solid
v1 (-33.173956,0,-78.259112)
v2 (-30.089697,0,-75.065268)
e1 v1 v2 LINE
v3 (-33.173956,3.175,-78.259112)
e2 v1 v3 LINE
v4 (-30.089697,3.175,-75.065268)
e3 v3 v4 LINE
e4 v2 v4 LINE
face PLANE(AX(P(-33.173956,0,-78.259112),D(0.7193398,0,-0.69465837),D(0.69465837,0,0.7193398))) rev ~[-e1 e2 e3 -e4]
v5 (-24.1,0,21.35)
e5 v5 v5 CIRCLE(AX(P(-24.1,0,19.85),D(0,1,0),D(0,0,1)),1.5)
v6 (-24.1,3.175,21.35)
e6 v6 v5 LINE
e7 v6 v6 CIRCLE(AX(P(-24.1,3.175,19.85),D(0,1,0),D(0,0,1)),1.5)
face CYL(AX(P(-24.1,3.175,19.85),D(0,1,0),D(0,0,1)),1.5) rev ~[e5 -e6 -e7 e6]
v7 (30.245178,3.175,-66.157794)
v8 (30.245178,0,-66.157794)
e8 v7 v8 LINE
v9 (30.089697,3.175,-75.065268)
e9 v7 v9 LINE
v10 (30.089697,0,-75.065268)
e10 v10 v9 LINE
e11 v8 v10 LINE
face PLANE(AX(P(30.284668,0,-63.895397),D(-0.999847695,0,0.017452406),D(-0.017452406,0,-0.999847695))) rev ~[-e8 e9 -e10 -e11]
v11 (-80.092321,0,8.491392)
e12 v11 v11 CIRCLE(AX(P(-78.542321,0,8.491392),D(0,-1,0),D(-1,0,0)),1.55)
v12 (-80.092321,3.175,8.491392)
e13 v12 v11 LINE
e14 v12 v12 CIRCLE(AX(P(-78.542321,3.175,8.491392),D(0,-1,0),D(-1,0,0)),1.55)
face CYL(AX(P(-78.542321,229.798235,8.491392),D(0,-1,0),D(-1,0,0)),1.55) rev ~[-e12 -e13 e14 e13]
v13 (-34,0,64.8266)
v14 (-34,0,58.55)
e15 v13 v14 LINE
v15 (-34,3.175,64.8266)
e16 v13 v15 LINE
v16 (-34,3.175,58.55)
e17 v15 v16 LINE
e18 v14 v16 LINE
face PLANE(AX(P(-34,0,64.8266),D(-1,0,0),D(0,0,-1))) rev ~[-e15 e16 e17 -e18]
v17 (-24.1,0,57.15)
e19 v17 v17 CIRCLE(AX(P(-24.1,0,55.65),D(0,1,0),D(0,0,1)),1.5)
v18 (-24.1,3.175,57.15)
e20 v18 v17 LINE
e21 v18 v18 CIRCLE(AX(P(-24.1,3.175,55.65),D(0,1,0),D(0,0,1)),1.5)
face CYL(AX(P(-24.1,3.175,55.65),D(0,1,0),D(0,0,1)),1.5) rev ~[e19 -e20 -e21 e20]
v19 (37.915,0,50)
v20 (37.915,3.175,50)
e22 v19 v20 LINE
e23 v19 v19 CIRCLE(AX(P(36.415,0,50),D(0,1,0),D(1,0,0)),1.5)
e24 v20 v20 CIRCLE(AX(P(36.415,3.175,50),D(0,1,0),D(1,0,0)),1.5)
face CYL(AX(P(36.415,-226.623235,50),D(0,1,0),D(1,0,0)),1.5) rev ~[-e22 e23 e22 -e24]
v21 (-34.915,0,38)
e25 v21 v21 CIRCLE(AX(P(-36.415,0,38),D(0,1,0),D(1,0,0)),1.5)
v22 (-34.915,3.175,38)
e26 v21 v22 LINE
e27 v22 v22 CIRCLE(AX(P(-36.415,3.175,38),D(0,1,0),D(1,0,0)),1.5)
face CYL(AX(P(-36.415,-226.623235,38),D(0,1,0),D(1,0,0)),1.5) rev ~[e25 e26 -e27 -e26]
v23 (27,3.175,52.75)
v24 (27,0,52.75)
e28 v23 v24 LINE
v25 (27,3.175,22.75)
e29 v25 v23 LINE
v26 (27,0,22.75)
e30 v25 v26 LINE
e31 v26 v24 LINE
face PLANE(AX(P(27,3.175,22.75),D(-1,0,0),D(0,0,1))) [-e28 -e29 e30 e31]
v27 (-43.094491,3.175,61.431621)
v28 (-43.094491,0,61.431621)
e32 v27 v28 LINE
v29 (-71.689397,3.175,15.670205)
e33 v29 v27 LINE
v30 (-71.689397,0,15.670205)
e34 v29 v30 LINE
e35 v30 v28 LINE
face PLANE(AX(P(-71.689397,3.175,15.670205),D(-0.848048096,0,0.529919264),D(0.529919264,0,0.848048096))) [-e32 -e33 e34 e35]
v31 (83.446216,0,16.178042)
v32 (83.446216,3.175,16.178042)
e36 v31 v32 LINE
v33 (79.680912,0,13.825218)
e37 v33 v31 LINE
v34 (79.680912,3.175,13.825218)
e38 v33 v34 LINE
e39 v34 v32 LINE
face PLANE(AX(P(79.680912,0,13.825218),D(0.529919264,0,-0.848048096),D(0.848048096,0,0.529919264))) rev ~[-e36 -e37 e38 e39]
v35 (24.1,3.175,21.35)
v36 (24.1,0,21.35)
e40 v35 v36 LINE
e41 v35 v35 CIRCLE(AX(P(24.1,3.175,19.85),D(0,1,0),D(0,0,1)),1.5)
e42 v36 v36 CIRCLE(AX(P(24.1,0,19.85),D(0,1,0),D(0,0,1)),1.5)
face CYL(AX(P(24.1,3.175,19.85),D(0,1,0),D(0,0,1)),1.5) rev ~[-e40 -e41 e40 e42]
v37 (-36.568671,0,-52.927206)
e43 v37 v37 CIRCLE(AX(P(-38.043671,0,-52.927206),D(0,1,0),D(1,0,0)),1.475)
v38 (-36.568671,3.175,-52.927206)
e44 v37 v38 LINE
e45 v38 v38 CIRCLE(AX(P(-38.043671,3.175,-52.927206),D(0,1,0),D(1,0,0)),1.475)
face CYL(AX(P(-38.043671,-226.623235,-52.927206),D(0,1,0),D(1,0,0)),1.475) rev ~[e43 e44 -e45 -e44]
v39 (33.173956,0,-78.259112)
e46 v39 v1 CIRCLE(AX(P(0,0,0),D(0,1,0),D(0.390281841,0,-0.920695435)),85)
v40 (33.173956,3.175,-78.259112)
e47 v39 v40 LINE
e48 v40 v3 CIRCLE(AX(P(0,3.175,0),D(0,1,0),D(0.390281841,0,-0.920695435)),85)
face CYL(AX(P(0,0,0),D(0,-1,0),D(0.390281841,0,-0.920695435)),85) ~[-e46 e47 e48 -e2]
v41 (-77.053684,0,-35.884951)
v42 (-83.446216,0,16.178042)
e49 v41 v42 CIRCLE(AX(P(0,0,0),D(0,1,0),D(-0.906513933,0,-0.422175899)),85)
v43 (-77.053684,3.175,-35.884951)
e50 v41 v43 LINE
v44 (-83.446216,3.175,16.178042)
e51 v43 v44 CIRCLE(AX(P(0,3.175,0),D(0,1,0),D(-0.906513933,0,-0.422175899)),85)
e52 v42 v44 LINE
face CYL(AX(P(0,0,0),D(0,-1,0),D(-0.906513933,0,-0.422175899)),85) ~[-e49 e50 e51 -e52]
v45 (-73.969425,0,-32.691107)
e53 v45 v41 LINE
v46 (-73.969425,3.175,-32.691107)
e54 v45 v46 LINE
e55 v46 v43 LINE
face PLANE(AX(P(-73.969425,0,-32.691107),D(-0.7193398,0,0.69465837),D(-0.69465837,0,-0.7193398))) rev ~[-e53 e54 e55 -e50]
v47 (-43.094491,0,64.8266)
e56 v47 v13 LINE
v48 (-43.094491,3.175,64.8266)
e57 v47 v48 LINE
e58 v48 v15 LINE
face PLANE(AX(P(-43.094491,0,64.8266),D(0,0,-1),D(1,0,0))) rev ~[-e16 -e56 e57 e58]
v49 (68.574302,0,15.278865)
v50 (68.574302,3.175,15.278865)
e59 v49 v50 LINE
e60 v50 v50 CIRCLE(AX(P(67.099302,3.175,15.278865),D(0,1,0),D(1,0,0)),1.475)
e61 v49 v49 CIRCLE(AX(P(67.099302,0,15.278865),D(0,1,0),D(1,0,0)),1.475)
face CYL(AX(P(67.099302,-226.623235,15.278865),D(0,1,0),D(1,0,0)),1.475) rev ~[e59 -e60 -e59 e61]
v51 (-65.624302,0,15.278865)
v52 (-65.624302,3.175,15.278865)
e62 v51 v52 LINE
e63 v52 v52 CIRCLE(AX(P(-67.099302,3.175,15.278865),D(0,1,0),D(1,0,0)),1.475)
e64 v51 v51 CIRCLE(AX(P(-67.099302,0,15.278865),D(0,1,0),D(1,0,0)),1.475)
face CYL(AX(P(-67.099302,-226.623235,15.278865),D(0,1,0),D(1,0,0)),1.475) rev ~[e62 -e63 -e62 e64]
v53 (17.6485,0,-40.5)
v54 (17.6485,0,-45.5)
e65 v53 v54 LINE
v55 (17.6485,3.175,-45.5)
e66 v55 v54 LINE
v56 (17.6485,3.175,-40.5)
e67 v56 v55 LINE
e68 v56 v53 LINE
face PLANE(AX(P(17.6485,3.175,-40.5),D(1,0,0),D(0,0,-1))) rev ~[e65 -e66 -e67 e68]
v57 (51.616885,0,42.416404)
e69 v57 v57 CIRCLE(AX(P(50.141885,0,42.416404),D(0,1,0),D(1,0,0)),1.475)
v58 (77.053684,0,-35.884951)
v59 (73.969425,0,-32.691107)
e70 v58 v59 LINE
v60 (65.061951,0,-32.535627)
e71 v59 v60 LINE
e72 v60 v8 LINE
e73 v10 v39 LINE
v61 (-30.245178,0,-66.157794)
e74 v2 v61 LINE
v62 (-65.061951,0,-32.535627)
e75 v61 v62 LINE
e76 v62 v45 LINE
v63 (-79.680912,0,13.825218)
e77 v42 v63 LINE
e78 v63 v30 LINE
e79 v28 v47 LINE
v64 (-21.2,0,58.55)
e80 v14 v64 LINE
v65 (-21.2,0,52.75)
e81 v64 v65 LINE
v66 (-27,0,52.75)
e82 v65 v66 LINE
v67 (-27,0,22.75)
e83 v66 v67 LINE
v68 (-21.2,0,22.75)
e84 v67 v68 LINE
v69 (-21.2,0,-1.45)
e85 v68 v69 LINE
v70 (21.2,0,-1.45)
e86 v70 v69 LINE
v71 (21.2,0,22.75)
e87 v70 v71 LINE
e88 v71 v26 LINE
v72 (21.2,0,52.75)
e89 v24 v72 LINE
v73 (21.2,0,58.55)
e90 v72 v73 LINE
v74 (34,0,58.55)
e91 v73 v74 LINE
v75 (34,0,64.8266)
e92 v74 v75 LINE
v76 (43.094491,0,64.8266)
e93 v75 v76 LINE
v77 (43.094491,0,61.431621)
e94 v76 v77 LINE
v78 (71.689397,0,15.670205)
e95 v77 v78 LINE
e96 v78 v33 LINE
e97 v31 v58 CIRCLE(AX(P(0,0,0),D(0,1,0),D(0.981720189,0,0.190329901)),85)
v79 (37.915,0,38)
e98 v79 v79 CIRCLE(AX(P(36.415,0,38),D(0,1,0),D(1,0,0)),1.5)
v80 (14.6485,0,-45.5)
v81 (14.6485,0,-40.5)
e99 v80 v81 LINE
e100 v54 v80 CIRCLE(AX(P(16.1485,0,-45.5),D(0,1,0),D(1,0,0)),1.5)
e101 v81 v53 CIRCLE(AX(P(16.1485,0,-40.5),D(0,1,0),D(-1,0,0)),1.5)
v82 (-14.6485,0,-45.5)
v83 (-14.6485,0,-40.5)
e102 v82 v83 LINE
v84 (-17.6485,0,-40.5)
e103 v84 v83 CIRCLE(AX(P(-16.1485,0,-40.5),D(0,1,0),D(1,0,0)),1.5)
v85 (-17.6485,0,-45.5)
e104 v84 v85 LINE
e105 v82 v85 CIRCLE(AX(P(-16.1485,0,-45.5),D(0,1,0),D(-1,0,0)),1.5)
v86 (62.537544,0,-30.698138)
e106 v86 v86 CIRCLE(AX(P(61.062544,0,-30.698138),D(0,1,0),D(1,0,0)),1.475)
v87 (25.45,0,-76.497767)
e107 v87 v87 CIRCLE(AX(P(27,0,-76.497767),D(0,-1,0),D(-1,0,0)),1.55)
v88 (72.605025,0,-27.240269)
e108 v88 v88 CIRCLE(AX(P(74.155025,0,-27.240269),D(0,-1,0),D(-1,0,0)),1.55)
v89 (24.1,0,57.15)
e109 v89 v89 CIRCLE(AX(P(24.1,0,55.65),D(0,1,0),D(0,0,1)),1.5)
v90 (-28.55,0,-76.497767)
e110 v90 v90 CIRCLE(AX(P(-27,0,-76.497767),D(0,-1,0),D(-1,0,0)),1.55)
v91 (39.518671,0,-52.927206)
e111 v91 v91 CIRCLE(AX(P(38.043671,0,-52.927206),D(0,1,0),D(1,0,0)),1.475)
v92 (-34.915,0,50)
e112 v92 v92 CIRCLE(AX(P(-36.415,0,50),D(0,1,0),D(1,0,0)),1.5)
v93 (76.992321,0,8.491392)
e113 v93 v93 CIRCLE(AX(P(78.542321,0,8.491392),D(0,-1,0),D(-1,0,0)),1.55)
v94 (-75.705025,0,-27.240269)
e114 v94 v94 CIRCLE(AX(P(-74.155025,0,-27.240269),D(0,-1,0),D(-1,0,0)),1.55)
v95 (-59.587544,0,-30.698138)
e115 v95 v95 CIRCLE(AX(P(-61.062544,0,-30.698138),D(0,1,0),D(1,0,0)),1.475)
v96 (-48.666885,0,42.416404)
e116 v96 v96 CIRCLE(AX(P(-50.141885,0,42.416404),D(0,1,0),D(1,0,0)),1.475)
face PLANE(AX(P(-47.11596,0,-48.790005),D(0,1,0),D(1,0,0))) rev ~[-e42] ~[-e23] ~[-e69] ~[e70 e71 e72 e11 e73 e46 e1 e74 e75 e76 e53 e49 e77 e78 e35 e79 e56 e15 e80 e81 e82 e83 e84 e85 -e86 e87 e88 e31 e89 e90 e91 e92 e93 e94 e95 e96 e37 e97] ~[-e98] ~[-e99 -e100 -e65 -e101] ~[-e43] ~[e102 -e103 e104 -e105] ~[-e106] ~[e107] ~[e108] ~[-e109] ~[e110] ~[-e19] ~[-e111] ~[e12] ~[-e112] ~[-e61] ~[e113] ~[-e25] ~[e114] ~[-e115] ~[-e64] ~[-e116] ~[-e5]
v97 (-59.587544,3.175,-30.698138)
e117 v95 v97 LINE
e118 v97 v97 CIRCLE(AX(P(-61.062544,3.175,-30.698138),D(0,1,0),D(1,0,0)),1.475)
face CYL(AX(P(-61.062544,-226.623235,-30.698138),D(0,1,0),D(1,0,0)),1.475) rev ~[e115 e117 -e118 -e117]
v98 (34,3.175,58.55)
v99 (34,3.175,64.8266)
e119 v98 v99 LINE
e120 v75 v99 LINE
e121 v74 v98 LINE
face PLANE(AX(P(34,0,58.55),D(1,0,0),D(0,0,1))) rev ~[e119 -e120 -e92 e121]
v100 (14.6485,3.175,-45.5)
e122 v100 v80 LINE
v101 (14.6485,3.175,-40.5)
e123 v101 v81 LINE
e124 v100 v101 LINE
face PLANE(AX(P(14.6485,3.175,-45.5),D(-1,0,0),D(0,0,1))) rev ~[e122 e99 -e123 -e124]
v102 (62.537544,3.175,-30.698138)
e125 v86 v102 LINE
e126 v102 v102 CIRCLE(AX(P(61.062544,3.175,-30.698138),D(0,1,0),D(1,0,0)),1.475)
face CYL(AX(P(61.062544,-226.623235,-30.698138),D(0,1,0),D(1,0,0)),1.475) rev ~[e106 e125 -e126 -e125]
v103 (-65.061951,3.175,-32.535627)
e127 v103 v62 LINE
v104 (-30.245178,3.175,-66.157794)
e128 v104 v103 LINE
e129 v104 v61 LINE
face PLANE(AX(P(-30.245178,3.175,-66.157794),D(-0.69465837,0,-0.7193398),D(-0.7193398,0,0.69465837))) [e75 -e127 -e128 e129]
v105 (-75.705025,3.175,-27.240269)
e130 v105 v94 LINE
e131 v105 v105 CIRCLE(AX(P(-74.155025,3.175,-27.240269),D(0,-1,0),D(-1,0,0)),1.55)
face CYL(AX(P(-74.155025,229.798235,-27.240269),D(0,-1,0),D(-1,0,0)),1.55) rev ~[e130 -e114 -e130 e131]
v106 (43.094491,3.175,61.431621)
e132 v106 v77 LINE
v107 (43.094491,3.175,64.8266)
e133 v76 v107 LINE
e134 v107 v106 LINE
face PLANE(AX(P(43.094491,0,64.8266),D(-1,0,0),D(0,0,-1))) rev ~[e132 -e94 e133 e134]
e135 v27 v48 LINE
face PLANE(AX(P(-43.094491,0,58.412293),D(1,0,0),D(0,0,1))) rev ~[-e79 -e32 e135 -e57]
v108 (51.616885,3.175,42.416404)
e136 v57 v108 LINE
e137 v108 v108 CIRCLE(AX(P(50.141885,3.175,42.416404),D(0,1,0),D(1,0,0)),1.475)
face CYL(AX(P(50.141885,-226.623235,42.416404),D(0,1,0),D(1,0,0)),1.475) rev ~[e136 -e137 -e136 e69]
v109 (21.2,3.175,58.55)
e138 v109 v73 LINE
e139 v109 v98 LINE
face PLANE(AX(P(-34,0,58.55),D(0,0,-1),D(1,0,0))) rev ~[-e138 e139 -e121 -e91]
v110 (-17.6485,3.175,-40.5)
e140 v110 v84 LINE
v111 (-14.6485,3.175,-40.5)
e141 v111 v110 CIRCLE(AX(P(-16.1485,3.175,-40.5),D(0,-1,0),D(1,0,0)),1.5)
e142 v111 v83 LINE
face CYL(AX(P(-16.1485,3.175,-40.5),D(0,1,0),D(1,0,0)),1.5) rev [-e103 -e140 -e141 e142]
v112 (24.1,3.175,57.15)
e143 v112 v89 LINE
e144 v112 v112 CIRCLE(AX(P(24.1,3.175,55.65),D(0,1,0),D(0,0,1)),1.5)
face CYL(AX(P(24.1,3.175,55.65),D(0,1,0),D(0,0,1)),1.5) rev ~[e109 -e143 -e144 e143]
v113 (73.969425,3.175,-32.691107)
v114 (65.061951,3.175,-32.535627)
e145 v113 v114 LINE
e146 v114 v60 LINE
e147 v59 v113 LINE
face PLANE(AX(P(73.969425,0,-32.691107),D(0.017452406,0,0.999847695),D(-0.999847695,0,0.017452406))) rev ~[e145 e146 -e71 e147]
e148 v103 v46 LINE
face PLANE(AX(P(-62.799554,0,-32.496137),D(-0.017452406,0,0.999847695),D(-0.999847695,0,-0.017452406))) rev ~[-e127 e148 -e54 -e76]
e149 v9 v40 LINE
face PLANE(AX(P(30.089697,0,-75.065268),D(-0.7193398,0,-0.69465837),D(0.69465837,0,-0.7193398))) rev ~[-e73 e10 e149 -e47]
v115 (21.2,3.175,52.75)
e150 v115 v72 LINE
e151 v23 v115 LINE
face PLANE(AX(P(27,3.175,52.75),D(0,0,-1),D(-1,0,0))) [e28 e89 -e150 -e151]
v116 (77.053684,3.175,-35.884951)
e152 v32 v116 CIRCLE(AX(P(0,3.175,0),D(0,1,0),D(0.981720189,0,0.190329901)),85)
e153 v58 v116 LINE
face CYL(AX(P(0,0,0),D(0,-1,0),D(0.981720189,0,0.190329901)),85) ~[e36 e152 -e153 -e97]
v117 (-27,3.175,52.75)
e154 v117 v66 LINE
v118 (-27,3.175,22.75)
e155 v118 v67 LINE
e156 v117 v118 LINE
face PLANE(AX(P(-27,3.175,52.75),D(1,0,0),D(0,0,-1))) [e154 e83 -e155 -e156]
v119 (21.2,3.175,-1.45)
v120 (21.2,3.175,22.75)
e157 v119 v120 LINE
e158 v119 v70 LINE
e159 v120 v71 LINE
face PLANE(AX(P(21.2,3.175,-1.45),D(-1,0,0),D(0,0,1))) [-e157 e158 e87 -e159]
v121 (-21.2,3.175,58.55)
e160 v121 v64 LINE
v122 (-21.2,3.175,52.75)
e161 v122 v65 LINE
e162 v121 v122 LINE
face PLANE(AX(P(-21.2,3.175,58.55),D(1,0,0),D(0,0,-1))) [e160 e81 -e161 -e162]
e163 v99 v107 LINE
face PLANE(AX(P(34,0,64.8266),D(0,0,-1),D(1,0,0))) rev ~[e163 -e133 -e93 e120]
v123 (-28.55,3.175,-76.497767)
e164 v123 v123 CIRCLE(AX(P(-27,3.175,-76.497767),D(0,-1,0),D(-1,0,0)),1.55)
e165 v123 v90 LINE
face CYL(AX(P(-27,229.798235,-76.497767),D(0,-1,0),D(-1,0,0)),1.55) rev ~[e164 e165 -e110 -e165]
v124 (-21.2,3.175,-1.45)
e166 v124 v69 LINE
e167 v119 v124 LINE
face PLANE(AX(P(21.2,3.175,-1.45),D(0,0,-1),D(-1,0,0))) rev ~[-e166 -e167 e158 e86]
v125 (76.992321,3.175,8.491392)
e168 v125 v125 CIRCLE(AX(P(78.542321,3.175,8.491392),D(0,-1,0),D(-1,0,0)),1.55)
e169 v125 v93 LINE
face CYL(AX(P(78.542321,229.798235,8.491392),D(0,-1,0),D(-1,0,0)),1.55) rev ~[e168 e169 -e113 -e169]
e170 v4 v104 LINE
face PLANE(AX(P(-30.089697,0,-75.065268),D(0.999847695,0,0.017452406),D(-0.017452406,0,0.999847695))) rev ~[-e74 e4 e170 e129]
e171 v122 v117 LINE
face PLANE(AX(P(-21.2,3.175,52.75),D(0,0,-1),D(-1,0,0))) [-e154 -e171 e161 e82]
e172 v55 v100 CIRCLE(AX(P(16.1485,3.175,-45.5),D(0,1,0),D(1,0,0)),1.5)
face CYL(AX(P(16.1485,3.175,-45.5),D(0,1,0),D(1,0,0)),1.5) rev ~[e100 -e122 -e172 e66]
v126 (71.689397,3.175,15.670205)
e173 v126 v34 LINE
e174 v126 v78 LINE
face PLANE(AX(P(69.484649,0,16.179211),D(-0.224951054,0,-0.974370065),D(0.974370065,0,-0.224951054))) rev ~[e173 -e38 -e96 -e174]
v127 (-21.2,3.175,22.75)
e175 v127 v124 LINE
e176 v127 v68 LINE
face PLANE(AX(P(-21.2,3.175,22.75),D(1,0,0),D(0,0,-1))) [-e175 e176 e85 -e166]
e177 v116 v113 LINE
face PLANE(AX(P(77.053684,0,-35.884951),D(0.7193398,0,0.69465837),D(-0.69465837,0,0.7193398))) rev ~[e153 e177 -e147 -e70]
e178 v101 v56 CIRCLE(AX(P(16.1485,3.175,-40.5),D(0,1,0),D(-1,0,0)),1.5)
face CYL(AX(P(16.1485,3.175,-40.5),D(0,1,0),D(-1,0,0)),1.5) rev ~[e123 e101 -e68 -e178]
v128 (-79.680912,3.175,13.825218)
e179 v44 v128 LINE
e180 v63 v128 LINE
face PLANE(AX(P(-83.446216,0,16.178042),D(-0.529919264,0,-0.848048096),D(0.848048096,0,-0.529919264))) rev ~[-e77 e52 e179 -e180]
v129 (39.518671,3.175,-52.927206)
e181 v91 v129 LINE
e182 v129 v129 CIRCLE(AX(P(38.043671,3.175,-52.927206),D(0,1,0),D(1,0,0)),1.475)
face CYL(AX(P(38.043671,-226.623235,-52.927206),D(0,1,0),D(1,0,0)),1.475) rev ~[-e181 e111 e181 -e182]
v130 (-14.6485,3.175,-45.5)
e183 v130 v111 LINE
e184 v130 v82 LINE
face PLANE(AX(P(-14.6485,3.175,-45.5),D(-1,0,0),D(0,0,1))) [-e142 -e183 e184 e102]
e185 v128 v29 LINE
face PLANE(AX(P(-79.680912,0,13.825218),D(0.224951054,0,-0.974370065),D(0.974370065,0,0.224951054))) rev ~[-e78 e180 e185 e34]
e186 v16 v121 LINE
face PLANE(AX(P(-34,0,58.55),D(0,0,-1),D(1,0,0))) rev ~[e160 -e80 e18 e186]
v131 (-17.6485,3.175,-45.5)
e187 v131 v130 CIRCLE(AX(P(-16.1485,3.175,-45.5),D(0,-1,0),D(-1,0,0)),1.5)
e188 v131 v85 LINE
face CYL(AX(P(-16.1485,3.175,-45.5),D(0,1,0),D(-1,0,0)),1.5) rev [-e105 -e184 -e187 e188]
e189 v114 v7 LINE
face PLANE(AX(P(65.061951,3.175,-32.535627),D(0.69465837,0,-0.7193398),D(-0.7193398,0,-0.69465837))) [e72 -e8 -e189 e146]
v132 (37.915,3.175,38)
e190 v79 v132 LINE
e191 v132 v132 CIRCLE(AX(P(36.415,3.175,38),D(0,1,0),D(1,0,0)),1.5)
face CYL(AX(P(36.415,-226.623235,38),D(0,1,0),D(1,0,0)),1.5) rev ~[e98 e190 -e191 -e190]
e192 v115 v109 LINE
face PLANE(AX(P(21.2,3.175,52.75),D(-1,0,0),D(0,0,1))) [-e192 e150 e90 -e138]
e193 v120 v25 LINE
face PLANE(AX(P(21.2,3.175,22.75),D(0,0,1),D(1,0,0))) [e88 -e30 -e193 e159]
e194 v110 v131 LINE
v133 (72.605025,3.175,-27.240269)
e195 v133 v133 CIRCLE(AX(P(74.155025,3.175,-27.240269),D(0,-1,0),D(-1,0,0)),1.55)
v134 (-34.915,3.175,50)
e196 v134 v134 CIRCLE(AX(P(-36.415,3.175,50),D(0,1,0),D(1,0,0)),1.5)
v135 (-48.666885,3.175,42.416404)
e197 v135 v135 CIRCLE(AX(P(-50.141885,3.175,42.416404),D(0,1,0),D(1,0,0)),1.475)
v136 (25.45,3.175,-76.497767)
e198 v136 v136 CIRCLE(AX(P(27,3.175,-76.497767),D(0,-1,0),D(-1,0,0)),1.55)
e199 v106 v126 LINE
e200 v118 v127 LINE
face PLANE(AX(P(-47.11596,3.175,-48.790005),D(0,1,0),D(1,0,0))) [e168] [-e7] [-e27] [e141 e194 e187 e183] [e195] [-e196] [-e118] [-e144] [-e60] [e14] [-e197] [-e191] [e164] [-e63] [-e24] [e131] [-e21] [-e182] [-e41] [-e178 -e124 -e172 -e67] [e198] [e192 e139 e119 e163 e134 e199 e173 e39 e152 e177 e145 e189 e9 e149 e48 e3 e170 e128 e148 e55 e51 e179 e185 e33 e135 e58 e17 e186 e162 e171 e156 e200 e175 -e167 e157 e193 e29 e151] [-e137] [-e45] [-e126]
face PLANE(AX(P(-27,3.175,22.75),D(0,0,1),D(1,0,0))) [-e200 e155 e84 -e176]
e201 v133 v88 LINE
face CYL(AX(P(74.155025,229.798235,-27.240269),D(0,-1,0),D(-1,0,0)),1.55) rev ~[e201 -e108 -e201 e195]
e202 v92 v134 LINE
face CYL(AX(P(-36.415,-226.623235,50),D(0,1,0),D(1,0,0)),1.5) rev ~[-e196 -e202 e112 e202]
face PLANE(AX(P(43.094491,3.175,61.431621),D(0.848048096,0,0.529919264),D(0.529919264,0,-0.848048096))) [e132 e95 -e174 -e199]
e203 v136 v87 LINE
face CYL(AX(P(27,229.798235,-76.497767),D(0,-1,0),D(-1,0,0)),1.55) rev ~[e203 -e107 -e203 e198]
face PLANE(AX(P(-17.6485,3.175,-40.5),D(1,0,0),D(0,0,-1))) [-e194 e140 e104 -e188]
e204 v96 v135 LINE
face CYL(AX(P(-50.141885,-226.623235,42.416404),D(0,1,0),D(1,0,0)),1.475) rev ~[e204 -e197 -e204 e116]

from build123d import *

# Parameters (mm, degrees)
BOSS_EXTRUDE4_DEPTH  = 3.175
M3_CLEARANCE_HOLE3_D = 3
M3_CLEARANCE_HOLE1_D = 3.1
M3_CLEARANCE_HOLE4_D = 2.95
M3_CLEARANCE_HOLE2_D = 3.1
CUT_EXTRUDE1_DEPTH   = 121.250075364
BOSS_EXTRUDE6_DEPTH  = 3.175
CUT_EXTRUDE3_DEPTH   = 121.250075364
SKETCH25_R           = 1.5
CUT_EXTRUDE4_DEPTH   = 121.250075364


with BuildPart() as part:
    # Sketch1 → Boss-Extrude4 (new body)
    with BuildSketch(Plane(origin=(0, 0, 0), x_dir=(1, 0, 0), z_dir=(0, 1, 0))):
        with BuildLine():
            Line((-62.799553621, 32.496136604), (-73.969425011, 32.691107434))
            Line((-73.969425011, 32.691107434), (-77.053684287, 35.88495141))
            ThreePointArc((-77.053684287, 35.88495141), (-84.36642289, 10.358894189), (-83.446216027, -16.178041625))
            Line((-83.446216027, -16.178041625), (-79.680911643, -13.825218315))
            Line((-79.680911643, -13.825218315), (-69.484649137, -16.179210996))
            Line((-69.484649137, -16.179210996), (-43.094490772, -58.412292655))
            Line((-43.094490772, -58.412292655), (-43.094490772, -64.826600275))
            Line((-43.094490772, -64.826600275), (-34, -64.826600275))
            Line((-34, -64.826600275), (-34, -58.55))
            Line((-34, -58.55), (34, -58.55))
            Line((34, -58.55), (34, -64.826600275))
            Line((34, -64.826600275), (43.094490772, -64.826600275))
            Line((43.094490772, -64.826600275), (43.094490772, -58.412292655))
            Line((43.094490772, -58.412292655), (69.484649137, -16.179210996))
            Line((69.484649137, -16.179210996), (79.680911643, -13.825218315))
            Line((79.680911643, -13.825218315), (83.446216027, -16.178041625))
            ThreePointArc((83.446216027, -16.178041625), (84.36642289, 10.358894189), (77.053684287, 35.88495141))
            Line((77.053684287, 35.88495141), (73.969425011, 32.691107434))
            Line((73.969425011, 32.691107434), (62.799553621, 32.496136604))
            Line((62.799553621, 32.496136604), (30.284668021, 63.895396642))
            Line((30.284668021, 63.895396642), (30.089697191, 75.065268032))
            Line((30.089697191, 75.065268032), (33.173956467, 78.259112008))
            ThreePointArc((33.173956467, 78.259112008), (0, 85), (-33.173956467, 78.259112008))
            Line((-33.173956467, 78.259112008), (-30.089697191, 75.065268032))
            Line((-30.089697191, 75.065268032), (-30.284668021, 63.895396642))
            Line((-30.284668021, 63.895396642), (-62.799553621, 32.496136604))
        make_face()
    extrude(amount=BOSS_EXTRUDE4_DEPTH)

    # M3 Clearance Hole3 (through all)
    with Locations(Plane(origin=(0, 0, 0), x_dir=(-1, 0, 0), z_dir=(0, -1, 0))):
        with Locations((36.415, -50), (36.415, -38), (-36.415, -50), (-36.415, -38)):
            Hole(M3_CLEARANCE_HOLE3_D / 2)

    # M3 Clearance Hole1 (through all)
    with Locations(Plane(origin=(0, 3.175, 0), x_dir=(1, 0, 0), z_dir=(0, 1, 0))):
        with Locations((-78.542321426, -8.49139241), (78.542321426, -8.49139241), (74.155025063, 27.240269049), (-74.155025063, 27.240269049)):
            Hole(M3_CLEARANCE_HOLE1_D / 2)

    # M3 Clearance Hole4 (through all)
    with Locations(Plane(origin=(0, 0, 0), x_dir=(-1, 0, 0), z_dir=(0, -1, 0))):
        with Locations((-67.099301622, -15.278865202), (-50.141885166, -42.416404279), (-61.062544382, 30.698137949), (-38.043670771, 52.927205804), (50.141885166, -42.416404279), (67.099301622, -15.278865202), (38.043670771, 52.927205804), (61.062544382, 30.698137949)):
            Hole(M3_CLEARANCE_HOLE4_D / 2)

    # M3 Clearance Hole2 (through all)
    with Locations(Plane(origin=(0, 3.175, 0), x_dir=(1, 0, 0), z_dir=(0, 1, 0))):
        with Locations((27, 76.497766718), (-27, 76.497766718)):
            Hole(M3_CLEARANCE_HOLE2_D / 2)

    # Sketch20 → Cut-Extrude1 (cut, through all)
    with BuildSketch(Plane(origin=(0, 3.175, 0), x_dir=(1, 0, 0), z_dir=(0, 1, 0))):
        with BuildLine():
            Line((-14.64850035, 45.5), (-14.64850035, 40.5))
            ThreePointArc((-14.64850035, 40.5), (-16.14850035, 39), (-17.64850035, 40.5))
            Line((-17.64850035, 40.5), (-17.64850035, 45.5))
            ThreePointArc((-17.64850035, 45.5), (-16.14850035, 47), (-14.64850035, 45.5))
        make_face()
        with BuildLine():
            Line((14.64850035, 45.5), (14.64850035, 40.5))
            ThreePointArc((14.64850035, 40.5), (16.14850035, 39), (17.64850035, 40.5))
            Line((17.64850035, 40.5), (17.64850035, 45.5))
            ThreePointArc((17.64850035, 45.5), (16.14850035, 47), (14.64850035, 45.5))
        make_face()
    extrude(amount=-CUT_EXTRUDE1_DEPTH, mode=Mode.SUBTRACT)

    # Sketch22 → Boss-Extrude6 (add)
    with BuildSketch(Plane(origin=(0, 3.175, 0), x_dir=(1, 0, 0), z_dir=(0, 1, 0))):
        Polygon((-30.284668021, 63.895396642), (-30.245177733, 66.157793715), (-65.061950694, 32.535626892), (-62.799553621, 32.496136604), align=None)
        Polygon((-69.484649137, -16.179210996), (-71.689396914, -15.670204865), (-43.094490772, -61.431620518), (-43.094490772, -58.412292655), align=None)
        Polygon((43.094490772, -61.431620518), (71.689396914, -15.670204865), (69.484649137, -16.179210996), (43.094490772, -58.412292655), align=None)
        Polygon((65.061950694, 32.535626892), (30.245177733, 66.157793715), (30.284668021, 63.895396642), (62.799553621, 32.496136604), align=None)
    extrude(amount=-BOSS_EXTRUDE6_DEPTH)

    # Sketch24 → Cut-Extrude3 (cut, through all)
    with BuildSketch(Plane(origin=(0, 3.175, 0), x_dir=(1, 0, 0), z_dir=(0, 1, 0))):
        Polygon((-27, -52.75), (-27, -22.75), (-21.2, -22.75), (-21.2, 1.45), (0, 1.45), (21.2, 1.45), (21.2, -22.75), (27, -22.75), (27, -52.75), (21.2, -52.75), (21.2, -58.55), (-21.2, -58.55), (-21.2, -52.75), align=None)
    extrude(amount=-CUT_EXTRUDE3_DEPTH, mode=Mode.SUBTRACT)

    # Sketch25 → Cut-Extrude4 (cut, through all)
    with BuildSketch(Plane(origin=(0, 3.175, 0), x_dir=(1, 0, 0), z_dir=(0, 1, 0))):
        with Locations(Location((-24.1, -55.65, 0), (0, 0, 270))):
            Circle(SKETCH25_R)
        with Locations(Location((-24.1, -19.85, 0), (0, 0, 270))):
            Circle(SKETCH25_R)
        with Locations(Location((24.1, -19.85, 0), (0, 0, 270))):
            Circle(SKETCH25_R)
        with Locations(Location((24.1, -55.65, 0), (0, 0, 270))):
            Circle(SKETCH25_R)
    extrude(amount=-CUT_EXTRUDE4_DEPTH, mode=Mode.SUBTRACT)


solid = part.part
